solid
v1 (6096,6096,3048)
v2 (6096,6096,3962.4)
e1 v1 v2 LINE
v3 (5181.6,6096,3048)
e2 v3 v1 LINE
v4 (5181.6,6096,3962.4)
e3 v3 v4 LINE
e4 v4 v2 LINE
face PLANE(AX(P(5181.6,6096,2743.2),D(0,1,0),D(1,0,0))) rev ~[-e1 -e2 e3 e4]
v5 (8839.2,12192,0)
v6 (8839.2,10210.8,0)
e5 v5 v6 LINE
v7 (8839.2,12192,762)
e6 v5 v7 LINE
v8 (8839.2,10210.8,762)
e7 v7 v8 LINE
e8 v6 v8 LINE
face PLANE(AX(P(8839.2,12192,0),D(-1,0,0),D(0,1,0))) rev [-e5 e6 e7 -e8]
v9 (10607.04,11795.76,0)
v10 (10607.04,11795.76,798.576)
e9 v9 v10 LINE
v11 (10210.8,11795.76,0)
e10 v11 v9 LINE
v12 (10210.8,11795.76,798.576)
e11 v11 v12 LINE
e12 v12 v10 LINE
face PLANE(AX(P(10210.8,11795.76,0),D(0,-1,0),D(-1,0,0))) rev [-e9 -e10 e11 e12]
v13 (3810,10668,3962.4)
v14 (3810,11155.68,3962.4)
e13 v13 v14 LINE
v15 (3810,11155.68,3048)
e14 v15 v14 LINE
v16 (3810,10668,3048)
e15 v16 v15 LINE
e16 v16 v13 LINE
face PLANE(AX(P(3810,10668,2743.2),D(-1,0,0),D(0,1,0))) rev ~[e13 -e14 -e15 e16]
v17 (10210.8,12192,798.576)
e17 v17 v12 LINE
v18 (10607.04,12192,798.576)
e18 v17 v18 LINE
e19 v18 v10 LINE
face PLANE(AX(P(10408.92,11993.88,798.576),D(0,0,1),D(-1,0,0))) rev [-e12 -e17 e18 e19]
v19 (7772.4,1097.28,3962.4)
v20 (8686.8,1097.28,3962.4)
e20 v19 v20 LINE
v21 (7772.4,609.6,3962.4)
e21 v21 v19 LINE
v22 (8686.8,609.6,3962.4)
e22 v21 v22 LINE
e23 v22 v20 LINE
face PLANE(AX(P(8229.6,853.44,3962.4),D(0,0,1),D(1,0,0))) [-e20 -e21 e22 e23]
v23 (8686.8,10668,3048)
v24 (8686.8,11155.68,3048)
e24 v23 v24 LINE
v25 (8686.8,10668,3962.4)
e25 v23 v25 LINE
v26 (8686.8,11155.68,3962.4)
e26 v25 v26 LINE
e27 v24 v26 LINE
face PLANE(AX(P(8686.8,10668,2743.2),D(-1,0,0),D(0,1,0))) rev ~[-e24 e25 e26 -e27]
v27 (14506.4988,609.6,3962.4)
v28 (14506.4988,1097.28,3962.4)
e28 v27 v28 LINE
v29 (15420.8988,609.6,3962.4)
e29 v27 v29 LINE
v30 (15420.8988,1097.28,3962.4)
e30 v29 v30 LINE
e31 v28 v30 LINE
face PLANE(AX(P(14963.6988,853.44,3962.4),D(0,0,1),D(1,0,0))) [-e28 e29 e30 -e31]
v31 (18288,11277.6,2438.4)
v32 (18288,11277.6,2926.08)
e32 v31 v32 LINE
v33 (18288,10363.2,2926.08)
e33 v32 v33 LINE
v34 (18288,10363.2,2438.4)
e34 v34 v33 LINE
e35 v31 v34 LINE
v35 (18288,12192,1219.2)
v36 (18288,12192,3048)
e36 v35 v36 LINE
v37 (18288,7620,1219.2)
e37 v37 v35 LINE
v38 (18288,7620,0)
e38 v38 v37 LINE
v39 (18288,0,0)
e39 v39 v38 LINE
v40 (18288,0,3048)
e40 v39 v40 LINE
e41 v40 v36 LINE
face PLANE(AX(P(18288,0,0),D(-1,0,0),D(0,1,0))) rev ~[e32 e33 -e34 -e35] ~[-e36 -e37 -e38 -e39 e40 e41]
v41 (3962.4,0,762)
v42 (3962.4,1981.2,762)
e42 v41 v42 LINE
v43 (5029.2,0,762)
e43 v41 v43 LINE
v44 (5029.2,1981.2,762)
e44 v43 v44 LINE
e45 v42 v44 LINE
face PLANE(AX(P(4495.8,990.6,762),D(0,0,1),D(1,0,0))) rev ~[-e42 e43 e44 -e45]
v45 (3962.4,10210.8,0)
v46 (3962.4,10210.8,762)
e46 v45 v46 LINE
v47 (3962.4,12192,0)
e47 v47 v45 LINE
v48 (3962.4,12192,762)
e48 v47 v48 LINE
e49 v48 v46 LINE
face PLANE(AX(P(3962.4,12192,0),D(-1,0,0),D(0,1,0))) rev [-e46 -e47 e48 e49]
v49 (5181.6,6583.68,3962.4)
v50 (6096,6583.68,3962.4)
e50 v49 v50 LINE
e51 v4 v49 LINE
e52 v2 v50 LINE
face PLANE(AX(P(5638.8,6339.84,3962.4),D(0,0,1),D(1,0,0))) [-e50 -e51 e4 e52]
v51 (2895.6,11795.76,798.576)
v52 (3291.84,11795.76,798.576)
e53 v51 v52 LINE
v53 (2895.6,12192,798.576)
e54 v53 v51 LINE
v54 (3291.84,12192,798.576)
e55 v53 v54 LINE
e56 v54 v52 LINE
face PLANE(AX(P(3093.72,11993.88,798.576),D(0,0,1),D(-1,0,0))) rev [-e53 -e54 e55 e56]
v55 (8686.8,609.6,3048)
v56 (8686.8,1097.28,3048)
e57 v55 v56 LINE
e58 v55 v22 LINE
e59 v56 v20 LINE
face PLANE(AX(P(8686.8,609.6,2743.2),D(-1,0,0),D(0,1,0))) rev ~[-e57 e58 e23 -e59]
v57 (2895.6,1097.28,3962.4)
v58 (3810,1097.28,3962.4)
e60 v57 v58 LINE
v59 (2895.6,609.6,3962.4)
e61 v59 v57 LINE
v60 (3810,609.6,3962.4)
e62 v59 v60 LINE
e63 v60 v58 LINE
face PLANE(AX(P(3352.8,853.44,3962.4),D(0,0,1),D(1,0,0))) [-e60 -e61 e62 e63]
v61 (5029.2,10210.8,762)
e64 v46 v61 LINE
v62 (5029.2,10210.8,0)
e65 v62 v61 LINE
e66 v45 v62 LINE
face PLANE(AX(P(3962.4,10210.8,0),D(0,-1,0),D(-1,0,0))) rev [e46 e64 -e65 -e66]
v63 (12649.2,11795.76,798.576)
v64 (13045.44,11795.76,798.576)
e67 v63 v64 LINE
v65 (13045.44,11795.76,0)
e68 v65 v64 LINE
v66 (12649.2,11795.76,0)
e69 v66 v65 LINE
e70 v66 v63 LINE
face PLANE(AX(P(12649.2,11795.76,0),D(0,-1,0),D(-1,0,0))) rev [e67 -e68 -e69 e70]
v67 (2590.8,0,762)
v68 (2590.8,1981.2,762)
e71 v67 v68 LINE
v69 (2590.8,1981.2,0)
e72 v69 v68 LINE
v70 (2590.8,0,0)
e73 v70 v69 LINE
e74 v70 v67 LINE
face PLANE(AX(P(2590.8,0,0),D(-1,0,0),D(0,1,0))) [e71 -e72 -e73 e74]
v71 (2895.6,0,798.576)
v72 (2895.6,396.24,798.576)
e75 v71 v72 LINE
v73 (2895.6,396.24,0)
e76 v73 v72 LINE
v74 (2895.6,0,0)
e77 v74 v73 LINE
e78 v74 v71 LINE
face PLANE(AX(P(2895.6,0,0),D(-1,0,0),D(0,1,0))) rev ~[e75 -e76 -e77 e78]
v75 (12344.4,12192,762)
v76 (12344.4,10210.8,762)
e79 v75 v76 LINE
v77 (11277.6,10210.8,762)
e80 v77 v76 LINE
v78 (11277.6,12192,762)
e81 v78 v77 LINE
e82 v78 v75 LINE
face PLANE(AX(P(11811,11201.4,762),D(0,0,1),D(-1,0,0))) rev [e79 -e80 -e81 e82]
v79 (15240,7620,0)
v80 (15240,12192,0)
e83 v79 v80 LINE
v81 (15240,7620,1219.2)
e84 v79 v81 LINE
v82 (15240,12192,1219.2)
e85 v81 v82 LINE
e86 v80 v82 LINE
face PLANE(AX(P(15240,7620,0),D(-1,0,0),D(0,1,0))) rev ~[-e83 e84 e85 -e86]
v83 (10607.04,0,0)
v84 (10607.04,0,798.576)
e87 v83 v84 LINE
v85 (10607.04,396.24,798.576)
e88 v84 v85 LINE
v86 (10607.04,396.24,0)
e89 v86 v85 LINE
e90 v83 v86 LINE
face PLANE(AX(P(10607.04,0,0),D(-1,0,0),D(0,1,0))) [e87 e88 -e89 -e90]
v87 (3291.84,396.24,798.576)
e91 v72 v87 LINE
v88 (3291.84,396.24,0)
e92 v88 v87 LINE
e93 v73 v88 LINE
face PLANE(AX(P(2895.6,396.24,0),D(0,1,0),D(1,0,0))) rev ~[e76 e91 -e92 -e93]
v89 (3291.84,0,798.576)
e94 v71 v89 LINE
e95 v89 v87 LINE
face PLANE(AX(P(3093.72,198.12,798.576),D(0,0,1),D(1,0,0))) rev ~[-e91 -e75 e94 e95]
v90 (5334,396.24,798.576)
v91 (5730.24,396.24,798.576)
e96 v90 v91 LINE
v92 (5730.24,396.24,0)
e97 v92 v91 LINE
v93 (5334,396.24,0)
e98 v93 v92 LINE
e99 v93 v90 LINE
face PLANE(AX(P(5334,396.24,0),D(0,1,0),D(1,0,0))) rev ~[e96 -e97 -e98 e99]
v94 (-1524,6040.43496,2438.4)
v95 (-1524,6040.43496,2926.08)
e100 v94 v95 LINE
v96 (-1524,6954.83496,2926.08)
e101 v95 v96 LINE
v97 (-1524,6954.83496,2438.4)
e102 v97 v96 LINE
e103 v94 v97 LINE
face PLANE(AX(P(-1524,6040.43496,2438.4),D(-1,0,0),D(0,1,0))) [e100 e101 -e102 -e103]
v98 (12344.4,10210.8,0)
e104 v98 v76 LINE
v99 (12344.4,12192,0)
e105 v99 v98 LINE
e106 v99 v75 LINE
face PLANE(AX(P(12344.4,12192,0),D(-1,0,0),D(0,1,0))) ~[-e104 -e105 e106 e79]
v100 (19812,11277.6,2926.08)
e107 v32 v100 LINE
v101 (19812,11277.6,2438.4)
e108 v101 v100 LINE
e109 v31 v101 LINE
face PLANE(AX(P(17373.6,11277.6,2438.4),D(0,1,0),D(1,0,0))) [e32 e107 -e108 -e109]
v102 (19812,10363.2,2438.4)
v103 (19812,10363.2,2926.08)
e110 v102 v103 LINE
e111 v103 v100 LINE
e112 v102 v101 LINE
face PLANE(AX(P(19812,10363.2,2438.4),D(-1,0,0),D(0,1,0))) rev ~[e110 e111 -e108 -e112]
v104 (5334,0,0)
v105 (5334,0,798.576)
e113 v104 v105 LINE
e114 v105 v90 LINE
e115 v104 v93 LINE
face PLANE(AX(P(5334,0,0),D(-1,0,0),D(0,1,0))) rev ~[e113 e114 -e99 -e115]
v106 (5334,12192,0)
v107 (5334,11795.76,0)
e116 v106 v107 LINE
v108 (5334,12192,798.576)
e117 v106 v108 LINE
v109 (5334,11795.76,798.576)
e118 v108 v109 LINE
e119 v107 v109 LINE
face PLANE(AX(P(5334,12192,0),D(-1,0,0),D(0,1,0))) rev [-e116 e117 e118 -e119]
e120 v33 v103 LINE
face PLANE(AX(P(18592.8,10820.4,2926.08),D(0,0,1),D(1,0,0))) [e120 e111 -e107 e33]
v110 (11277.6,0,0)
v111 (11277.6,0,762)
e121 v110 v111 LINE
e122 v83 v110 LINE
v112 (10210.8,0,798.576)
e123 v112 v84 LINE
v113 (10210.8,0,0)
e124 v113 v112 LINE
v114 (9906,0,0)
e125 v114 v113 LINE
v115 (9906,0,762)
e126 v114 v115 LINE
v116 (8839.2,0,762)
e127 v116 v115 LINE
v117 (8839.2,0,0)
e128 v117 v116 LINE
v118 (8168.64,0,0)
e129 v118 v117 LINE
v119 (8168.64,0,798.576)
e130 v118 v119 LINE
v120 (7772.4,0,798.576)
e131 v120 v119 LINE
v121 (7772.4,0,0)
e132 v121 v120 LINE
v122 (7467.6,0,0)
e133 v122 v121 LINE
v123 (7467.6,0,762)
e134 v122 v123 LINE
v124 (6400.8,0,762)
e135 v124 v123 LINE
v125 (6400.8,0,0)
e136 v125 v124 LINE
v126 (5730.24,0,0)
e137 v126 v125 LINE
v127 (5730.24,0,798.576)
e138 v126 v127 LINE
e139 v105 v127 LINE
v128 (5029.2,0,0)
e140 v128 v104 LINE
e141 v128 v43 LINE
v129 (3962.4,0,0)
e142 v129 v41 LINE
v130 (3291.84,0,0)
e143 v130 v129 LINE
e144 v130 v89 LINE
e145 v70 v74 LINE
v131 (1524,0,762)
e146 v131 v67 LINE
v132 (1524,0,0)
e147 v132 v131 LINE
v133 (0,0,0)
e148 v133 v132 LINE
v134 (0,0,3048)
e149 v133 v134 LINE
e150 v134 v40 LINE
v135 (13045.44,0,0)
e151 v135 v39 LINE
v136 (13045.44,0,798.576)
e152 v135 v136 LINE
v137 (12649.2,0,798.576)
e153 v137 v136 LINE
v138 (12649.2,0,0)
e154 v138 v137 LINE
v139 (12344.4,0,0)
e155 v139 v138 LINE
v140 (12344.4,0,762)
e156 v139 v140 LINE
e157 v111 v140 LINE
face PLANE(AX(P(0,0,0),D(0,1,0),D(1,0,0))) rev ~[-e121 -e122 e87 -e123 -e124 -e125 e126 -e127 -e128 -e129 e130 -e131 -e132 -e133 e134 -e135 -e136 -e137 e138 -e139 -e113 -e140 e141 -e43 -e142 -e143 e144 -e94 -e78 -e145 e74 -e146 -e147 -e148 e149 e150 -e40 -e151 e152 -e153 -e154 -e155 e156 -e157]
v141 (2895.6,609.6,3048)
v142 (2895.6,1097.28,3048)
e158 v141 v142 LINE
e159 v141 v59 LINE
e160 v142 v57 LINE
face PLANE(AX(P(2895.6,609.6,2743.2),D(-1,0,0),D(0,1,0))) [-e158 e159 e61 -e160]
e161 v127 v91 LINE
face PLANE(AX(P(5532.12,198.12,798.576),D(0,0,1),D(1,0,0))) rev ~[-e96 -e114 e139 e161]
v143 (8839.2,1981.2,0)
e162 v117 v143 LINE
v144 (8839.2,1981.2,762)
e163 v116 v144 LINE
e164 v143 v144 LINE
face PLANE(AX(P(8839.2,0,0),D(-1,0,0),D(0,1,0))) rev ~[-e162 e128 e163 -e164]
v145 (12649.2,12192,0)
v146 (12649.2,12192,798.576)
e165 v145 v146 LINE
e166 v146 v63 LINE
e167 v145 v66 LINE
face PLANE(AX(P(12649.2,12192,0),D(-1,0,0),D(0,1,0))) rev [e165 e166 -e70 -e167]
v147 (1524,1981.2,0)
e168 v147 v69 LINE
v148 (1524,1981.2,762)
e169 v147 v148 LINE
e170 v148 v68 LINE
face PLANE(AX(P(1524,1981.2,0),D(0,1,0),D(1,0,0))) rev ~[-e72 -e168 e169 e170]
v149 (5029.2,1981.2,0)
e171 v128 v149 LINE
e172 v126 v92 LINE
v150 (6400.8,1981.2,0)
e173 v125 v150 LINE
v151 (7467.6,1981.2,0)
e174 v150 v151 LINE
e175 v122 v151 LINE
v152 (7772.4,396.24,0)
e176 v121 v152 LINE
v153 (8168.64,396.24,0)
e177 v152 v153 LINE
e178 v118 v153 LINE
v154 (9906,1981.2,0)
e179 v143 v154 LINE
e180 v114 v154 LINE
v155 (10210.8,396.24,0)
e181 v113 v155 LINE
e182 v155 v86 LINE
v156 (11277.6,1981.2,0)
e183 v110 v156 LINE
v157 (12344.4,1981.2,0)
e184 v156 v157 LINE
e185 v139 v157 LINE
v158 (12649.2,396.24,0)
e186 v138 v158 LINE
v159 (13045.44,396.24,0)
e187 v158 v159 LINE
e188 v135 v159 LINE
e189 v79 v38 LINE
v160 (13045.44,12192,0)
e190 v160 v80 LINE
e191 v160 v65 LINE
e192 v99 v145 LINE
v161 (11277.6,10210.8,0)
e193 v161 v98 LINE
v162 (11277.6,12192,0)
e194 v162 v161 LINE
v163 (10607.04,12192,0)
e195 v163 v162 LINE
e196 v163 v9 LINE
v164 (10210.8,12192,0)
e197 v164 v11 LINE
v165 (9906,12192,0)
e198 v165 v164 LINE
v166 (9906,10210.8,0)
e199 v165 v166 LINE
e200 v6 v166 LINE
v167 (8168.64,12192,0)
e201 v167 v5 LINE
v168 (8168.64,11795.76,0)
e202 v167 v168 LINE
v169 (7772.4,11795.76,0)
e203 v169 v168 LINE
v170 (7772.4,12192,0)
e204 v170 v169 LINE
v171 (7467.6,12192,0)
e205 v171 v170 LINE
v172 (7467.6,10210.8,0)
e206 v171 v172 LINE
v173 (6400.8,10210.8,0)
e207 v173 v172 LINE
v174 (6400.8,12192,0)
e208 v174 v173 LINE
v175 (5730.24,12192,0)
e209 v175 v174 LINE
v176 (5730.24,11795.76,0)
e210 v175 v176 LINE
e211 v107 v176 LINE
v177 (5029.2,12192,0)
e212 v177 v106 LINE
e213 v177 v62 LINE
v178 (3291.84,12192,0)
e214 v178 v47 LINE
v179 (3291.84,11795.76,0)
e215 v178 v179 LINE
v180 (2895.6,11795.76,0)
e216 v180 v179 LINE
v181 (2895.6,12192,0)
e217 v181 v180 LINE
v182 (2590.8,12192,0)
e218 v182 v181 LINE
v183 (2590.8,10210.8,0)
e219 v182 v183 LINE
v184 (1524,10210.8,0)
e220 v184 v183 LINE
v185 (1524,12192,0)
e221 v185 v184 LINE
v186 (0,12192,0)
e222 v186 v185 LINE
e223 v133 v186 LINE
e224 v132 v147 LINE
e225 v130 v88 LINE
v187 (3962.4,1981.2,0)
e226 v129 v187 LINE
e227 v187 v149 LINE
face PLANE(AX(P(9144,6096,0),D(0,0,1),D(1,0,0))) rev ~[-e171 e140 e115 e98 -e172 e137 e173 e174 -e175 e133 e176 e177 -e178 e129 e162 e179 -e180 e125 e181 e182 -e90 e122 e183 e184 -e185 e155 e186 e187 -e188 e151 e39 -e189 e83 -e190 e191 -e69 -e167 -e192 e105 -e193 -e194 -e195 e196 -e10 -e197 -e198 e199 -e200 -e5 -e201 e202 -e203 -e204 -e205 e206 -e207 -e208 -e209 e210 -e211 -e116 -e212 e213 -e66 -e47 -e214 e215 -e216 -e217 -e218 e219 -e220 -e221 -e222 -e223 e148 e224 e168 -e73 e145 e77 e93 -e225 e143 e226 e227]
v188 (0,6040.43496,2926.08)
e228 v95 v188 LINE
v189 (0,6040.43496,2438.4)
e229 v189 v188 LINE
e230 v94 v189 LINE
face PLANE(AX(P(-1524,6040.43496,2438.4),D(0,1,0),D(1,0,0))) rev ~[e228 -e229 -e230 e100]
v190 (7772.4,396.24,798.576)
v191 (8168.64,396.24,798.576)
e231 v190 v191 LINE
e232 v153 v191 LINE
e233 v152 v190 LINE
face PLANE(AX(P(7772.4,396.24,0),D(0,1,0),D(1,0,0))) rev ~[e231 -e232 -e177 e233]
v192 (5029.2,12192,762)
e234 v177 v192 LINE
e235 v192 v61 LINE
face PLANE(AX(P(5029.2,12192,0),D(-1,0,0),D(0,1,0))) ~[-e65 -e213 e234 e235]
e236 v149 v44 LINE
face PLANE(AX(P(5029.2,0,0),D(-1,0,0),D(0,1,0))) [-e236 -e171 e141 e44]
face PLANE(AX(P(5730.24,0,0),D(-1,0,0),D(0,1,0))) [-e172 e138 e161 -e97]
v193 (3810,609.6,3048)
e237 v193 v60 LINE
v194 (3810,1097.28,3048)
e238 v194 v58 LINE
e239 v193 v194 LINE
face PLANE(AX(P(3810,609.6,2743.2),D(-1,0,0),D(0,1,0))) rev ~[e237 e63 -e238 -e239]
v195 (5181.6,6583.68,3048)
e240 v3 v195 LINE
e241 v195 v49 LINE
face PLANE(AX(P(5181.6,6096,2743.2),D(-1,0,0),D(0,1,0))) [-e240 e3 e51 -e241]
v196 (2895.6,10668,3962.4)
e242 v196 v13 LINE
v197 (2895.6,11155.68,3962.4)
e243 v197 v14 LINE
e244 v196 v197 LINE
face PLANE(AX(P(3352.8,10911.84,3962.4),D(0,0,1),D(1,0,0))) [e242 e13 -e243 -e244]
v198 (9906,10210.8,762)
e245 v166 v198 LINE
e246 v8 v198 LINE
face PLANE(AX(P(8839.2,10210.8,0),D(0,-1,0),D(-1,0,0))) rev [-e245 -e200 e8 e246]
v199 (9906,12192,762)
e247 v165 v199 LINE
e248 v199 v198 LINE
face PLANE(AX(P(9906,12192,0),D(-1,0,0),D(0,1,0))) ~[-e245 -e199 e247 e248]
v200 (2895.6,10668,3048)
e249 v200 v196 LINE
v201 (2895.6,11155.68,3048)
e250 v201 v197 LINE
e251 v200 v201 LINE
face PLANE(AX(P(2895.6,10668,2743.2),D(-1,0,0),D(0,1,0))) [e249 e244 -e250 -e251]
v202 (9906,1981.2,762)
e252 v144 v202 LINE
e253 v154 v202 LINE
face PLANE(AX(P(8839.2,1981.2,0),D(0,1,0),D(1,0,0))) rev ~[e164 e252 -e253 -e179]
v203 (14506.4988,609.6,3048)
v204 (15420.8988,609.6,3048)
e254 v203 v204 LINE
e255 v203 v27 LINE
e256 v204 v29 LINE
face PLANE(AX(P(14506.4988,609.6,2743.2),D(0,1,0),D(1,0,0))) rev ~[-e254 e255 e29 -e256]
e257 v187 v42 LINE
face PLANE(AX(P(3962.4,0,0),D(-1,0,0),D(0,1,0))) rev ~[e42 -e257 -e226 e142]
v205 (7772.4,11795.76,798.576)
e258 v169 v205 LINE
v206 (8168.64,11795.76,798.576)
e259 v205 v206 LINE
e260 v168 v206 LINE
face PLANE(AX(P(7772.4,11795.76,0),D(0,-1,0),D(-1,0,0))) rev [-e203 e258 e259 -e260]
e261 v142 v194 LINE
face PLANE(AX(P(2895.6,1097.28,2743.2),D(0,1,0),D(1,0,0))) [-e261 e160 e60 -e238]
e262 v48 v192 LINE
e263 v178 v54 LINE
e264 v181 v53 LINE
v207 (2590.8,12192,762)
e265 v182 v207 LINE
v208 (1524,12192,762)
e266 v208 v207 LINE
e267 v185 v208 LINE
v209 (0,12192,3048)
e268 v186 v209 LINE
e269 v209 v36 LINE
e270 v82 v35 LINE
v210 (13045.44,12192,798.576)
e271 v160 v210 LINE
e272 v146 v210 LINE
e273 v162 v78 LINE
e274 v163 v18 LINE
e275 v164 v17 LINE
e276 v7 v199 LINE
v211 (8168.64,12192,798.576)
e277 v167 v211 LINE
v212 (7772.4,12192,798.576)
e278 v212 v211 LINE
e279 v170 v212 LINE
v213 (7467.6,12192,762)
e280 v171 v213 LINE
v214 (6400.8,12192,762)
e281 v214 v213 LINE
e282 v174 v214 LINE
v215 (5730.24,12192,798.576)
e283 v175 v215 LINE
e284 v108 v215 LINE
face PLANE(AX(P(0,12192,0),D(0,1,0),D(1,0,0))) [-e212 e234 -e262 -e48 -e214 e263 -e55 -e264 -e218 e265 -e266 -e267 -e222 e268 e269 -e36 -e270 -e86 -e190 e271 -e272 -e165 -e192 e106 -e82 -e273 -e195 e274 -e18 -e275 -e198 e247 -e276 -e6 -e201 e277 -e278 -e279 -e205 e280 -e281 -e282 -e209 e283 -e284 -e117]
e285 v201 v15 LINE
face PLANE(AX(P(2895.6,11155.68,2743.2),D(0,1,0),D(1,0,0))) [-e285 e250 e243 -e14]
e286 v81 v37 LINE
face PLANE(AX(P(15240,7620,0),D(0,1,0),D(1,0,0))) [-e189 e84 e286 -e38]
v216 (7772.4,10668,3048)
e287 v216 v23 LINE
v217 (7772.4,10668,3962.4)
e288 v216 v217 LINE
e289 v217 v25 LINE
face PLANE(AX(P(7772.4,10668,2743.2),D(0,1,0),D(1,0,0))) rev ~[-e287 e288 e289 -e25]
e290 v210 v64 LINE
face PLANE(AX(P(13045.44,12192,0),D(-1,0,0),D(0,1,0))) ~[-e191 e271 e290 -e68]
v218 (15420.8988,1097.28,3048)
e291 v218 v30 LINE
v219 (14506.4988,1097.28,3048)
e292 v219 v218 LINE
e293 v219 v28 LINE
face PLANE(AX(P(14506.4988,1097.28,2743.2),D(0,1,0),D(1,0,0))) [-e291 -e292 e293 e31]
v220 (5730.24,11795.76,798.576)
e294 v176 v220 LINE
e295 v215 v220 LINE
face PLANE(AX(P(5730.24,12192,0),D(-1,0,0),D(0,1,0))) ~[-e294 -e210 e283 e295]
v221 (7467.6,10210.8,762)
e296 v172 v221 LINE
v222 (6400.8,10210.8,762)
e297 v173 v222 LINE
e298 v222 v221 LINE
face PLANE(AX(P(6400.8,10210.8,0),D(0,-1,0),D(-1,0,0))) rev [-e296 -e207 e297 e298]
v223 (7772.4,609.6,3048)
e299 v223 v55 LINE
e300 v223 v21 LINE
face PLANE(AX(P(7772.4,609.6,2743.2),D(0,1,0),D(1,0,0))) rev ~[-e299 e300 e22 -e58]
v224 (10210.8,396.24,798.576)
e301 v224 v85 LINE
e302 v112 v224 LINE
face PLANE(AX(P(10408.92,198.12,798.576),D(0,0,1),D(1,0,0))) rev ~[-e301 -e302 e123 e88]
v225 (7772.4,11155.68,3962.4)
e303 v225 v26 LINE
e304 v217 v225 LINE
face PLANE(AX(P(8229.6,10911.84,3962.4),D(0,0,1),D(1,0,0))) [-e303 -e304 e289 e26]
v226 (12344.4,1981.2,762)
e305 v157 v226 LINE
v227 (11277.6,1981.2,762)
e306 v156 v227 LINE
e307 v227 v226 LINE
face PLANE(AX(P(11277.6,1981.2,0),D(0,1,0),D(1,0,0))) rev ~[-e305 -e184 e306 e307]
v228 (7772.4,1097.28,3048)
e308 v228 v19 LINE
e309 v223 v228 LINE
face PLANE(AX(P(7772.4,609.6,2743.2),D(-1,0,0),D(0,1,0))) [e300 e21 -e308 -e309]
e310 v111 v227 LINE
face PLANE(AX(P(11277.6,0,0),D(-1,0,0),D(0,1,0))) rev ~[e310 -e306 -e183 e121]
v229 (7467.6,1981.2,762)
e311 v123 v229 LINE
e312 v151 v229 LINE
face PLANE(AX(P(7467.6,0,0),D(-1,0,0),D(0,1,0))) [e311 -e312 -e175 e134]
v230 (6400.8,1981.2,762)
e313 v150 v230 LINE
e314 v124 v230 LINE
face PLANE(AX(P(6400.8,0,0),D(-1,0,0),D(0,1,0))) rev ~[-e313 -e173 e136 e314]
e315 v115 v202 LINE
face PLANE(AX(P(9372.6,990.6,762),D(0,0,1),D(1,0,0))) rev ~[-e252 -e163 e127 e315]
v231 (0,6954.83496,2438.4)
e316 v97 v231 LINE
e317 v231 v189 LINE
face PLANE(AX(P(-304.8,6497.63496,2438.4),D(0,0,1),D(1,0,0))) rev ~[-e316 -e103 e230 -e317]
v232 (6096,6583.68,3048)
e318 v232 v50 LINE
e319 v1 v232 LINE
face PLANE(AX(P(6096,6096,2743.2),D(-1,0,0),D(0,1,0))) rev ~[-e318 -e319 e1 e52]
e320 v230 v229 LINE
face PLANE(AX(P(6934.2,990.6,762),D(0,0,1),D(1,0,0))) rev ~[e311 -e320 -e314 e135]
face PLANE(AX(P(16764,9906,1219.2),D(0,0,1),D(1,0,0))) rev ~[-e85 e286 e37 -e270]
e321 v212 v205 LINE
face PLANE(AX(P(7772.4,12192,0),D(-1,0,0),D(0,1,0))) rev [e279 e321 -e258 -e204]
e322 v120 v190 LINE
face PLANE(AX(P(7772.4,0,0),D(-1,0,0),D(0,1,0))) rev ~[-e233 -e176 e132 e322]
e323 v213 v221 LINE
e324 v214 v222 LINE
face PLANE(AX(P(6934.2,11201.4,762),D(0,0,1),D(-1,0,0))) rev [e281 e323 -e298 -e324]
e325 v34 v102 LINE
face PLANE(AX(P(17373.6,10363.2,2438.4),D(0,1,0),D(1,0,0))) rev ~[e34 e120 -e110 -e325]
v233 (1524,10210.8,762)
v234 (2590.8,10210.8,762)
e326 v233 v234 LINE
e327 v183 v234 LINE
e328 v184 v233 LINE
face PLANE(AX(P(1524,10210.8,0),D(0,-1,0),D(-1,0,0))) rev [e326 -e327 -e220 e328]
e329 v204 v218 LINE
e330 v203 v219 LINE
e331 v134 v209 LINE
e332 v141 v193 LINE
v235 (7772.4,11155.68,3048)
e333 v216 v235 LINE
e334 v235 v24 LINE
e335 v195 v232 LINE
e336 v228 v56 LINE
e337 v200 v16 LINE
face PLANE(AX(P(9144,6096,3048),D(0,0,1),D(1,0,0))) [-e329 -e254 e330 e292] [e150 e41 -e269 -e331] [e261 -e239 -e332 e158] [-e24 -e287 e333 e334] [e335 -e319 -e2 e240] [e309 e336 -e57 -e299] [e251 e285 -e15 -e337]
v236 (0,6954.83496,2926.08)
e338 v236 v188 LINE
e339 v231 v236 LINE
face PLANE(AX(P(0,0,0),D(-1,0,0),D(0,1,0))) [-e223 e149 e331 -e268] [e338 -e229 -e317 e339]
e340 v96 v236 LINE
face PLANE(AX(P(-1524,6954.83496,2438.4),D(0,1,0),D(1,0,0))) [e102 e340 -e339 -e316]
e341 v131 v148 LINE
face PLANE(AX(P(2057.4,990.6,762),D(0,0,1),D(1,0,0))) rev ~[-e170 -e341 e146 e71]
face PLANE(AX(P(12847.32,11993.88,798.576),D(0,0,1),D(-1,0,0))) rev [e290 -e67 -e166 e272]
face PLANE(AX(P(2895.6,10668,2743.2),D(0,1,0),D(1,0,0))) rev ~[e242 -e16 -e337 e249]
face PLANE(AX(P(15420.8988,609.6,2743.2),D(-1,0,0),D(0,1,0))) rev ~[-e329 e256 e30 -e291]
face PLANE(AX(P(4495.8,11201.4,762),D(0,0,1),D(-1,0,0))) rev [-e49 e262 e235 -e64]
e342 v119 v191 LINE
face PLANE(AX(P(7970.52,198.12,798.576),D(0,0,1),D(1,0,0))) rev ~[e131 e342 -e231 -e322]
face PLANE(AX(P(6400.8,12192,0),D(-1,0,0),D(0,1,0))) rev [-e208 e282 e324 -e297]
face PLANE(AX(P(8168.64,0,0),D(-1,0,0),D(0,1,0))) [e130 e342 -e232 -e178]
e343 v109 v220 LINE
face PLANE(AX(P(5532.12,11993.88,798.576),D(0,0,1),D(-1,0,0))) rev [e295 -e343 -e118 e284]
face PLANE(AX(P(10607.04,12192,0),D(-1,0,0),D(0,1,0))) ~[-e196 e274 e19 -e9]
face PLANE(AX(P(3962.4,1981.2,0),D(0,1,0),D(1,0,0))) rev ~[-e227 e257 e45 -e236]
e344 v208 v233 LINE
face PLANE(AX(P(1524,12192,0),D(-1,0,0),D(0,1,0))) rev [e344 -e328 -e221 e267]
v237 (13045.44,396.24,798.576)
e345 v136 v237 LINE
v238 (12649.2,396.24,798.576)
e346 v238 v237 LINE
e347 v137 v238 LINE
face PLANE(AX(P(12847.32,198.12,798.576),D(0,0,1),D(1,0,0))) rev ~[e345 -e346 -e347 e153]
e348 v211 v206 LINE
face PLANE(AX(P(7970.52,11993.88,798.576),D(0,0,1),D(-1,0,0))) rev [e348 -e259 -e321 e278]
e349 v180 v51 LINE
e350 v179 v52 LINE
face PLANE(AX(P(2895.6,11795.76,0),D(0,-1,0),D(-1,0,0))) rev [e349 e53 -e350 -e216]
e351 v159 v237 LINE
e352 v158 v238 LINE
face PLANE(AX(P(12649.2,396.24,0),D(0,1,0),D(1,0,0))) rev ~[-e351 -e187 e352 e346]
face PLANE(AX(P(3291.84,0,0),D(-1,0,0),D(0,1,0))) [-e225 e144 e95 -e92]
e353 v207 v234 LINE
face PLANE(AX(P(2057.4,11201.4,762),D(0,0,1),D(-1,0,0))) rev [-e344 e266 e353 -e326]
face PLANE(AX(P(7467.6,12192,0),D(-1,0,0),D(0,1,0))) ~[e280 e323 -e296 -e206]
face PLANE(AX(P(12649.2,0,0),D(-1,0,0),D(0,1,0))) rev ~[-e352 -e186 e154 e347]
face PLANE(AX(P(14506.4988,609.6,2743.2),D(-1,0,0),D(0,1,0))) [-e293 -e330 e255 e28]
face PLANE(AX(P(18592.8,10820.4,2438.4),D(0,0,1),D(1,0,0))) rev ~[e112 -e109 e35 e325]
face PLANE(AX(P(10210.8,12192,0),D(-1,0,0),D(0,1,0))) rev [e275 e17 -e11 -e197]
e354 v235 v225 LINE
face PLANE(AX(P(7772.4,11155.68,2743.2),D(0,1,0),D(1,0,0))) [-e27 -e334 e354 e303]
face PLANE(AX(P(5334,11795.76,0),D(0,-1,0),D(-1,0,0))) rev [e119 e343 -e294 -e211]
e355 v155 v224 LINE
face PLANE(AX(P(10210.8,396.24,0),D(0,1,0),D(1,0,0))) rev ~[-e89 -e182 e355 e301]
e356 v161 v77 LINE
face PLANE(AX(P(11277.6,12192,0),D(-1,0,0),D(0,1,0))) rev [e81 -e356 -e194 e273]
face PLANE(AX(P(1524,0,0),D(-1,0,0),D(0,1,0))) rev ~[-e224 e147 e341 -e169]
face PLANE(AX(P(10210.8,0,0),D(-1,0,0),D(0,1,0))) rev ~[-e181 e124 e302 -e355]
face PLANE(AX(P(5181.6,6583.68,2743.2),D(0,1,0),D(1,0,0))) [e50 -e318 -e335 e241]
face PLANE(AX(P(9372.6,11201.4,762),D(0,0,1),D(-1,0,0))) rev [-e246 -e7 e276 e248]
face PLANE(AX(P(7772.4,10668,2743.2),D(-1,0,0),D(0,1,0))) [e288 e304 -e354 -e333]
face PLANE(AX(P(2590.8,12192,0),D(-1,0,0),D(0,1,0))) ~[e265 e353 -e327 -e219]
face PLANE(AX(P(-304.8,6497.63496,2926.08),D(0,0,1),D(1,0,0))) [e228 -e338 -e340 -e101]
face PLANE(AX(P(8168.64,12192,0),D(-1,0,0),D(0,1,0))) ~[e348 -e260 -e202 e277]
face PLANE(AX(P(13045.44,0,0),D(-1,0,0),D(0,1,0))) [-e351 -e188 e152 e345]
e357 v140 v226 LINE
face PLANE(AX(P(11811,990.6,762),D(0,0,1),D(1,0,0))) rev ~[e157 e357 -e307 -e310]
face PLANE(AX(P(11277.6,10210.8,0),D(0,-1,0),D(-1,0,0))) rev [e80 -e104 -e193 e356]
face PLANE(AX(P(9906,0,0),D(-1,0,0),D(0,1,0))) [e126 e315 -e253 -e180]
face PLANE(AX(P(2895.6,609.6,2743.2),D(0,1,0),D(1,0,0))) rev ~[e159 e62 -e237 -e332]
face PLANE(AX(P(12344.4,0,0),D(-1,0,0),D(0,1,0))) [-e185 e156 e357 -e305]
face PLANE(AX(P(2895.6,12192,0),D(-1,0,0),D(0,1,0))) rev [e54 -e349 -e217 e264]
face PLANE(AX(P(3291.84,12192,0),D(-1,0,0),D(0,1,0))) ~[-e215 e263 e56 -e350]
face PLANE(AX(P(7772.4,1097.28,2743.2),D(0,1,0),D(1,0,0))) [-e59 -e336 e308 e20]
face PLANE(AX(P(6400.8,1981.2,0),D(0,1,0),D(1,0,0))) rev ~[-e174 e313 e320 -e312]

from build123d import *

# Parameters (mm, degrees)
BOX011_W     = 3048
BOX011_H     = 4572
BOX011_DEPTH = 1219.2
BOX006_W     = 1066.8
BOX006_H     = 1981.2
BOX006_DEPTH = 762
BOX005_W     = 396.24
BOX005_H     = 396.24
BOX005_DEPTH = 798.576
BOX007_W     = 1066.8
BOX007_H     = 1981.2
BOX007_DEPTH = 762
BOX008_W     = 396.24
BOX008_H     = 396.24
BOX008_DEPTH = 798.576
BOX010_W     = 1066.8
BOX010_H     = 1981.2
BOX010_DEPTH = 762
BOX009_W     = 396.24
BOX009_H     = 396.24
BOX009_DEPTH = 798.576
BOX001_W     = 1066.8
BOX001_H     = 1981.2
BOX001_DEPTH = 762
BOX002_W     = 396.24
BOX002_H     = 396.24
BOX002_DEPTH = 798.576
BOX003_W     = 1066.8
BOX003_H     = 1981.2
BOX003_DEPTH = 762
BOX004_W     = 396.24
BOX004_H     = 396.24
BOX004_DEPTH = 798.576
BOX_W        = 18288
BOX_H        = 12192
BOX_DEPTH    = 3048
BOX017_W     = 914.4
BOX017_H     = 487.68
BOX017_DEPTH = 1219.2
BOX018_W     = 914.4
BOX018_H     = 487.68
BOX018_DEPTH = 1219.2
BOX019_W     = 914.4
BOX019_H     = 487.68
BOX019_DEPTH = 1219.2
BOX021_W     = 914.4
BOX021_H     = 487.68
BOX021_DEPTH = 1219.2
BOX022_W     = 914.4
BOX022_H     = 487.68
BOX022_DEPTH = 1219.2
BOX016_W     = 914.4
BOX016_H     = 487.68
BOX016_DEPTH = 1219.2
BOX020_W     = 2438.4
BOX020_H     = 914.4
BOX020_DEPTH = 487.68
BOX013_W     = 2438.4
BOX013_H     = 914.4
BOX013_DEPTH = 487.68


with BuildPart() as nurse_station:
    # Box011 → Box011 (new body)
    with BuildSketch(Plane(origin=(15240, 7620, 0), x_dir=(1, 0, 0), z_dir=(0, 0, 1))):
        with Locations((1524, 2286)):
            Rectangle(BOX011_W, BOX011_H)
    extrude(amount=BOX011_DEPTH)


with BuildPart() as box006:
    # Box006 → Box006 (new body)
    with BuildSketch(Plane.XY):
        with Locations((533.4, 990.6)):
            Rectangle(BOX006_W, BOX006_H)
    extrude(amount=BOX006_DEPTH)


with BuildPart() as fusion002:
    # Box005 → Box005 (new body)
    with BuildSketch(Plane(origin=(1371.6, 0, 0), x_dir=(1, 0, 0), z_dir=(0, 0, 1))):
        with Locations((198.12, 198.12)):
            Rectangle(BOX005_W, BOX005_H)
    extrude(amount=BOX005_DEPTH)

    # Fusion002: union Box006
    add(box006.part)


with BuildPart() as fusion002_1:
    # Fusion002 placement: moved
    add(fusion002.part.moved(Location((4876.8, 0, 0))))


with BuildPart() as box007:
    # Box007 → Box007 (new body)
    with BuildSketch(Plane.XY):
        with Locations((533.4, 990.6)):
            Rectangle(BOX007_W, BOX007_H)
    extrude(amount=BOX007_DEPTH)


with BuildPart() as fusion003:
    # Box008 → Box008 (new body)
    with BuildSketch(Plane(origin=(1371.6, 0, 0), x_dir=(1, 0, 0), z_dir=(0, 0, 1))):
        with Locations((198.12, 198.12)):
            Rectangle(BOX008_W, BOX008_H)
    extrude(amount=BOX008_DEPTH)

    # Fusion003: union Box007
    add(box007.part)


with BuildPart() as fusion003_1:
    # Fusion003 placement: moved
    add(fusion003.part.moved(Location((7315.2, 0, 0))))


with BuildPart() as box010:
    # Box010 → Box010 (new body)
    with BuildSketch(Plane.XY):
        with Locations((533.4, 990.6)):
            Rectangle(BOX010_W, BOX010_H)
    extrude(amount=BOX010_DEPTH)


with BuildPart() as fusion004:
    # Box009 → Box009 (new body)
    with BuildSketch(Plane(origin=(1371.6, 0, 0), x_dir=(1, 0, 0), z_dir=(0, 0, 1))):
        with Locations((198.12, 198.12)):
            Rectangle(BOX009_W, BOX009_H)
    extrude(amount=BOX009_DEPTH)

    # Fusion004: union Box010
    add(box010.part)


with BuildPart() as fusion004_1:
    # Fusion004 placement: moved
    add(fusion004.part.moved(Location((9753.6, 0, 0))))


with BuildPart() as box001:
    # Box001 → Box001 (new body)
    with BuildSketch(Plane.XY):
        with Locations((533.4, 990.6)):
            Rectangle(BOX001_W, BOX001_H)
    extrude(amount=BOX001_DEPTH)


with BuildPart() as fusion:
    # Box002 → Box002 (new body)
    with BuildSketch(Plane(origin=(1371.6, 0, 0), x_dir=(1, 0, 0), z_dir=(0, 0, 1))):
        with Locations((198.12, 198.12)):
            Rectangle(BOX002_W, BOX002_H)
    extrude(amount=BOX002_DEPTH)

    # Fusion: union Box001
    add(box001.part)


with BuildPart() as box003:
    # Box003 → Box003 (new body)
    with BuildSketch(Plane.XY):
        with Locations((533.4, 990.6)):
            Rectangle(BOX003_W, BOX003_H)
    extrude(amount=BOX003_DEPTH)


with BuildPart() as right_beds:
    # Box004 → Box004 (new body)
    with BuildSketch(Plane(origin=(1371.6, 0, 0), x_dir=(1, 0, 0), z_dir=(0, 0, 1))):
        with Locations((198.12, 198.12)):
            Rectangle(BOX004_W, BOX004_H)
    extrude(amount=BOX004_DEPTH)

    # Fusion001: union Box003
    add(box003.part)


with BuildPart() as right_beds_1:
    # Fusion001 placement: moved
    add(right_beds.part.moved(Location((2438.4, 0, 0))))

    # Fusion005: union Fusion002, Fusion003, Fusion004, Fusion
    add(fusion002_1.part)
    add(fusion003_1.part)
    add(fusion004_1.part)
    add(fusion.part)


with BuildPart() as surfaces:
    # Part__Mirroring: instance of right beds
    add(right_beds_1.part.mirror(Plane(origin=(0, 6096, 0), x_dir=(1, 0, 0), z_dir=(0, 1, 0))))

    # Fusion006: union right beds
    add(right_beds_1.part)


with BuildPart() as surfaces_1:
    # Fusion006 placement: moved
    add(surfaces.part.moved(Location((1524, 0, 0))))

    # Fusion010: union Nurse Station
    add(nurse_station.part)


with BuildPart() as room:
    # Box → Box (new body)
    with BuildSketch(Plane.XY):
        with Locations((9144, 6096)):
            Rectangle(BOX_W, BOX_H)
    extrude(amount=BOX_DEPTH)


with BuildPart() as branch003:
    # Box017 → Box017 (new body)
    with BuildSketch(Plane(origin=(7772.4, 10668, 2743.2), x_dir=(1, 0, 0), z_dir=(0, 0, 1))):
        with Locations((457.2, 243.84)):
            Rectangle(BOX017_W, BOX017_H)
    extrude(amount=BOX017_DEPTH)


with BuildPart() as branch004:
    # Box018 → Box018 (new body)
    with BuildSketch(Plane(origin=(2895.6, 609.6, 2743.2), x_dir=(1, 0, 0), z_dir=(0, 0, 1))):
        with Locations((457.2, 243.84)):
            Rectangle(BOX018_W, BOX018_H)
    extrude(amount=BOX018_DEPTH)


with BuildPart() as branch005:
    # Box019 → Box019 (new body)
    with BuildSketch(Plane(origin=(2895.6, 10668, 2743.2), x_dir=(1, 0, 0), z_dir=(0, 0, 1))):
        with Locations((457.2, 243.84)):
            Rectangle(BOX019_W, BOX019_H)
    extrude(amount=BOX019_DEPTH)


with BuildPart() as branch006:
    # Box021 → Box021 (new body)
    with BuildSketch(Plane(origin=(5181.6, 6096, 2743.2), x_dir=(1, 0, 0), z_dir=(0, 0, 1))):
        with Locations((457.2, 243.84)):
            Rectangle(BOX021_W, BOX021_H)
    extrude(amount=BOX021_DEPTH)


with BuildPart() as branch007:
    # Box022 → Box022 (new body)
    with BuildSketch(Plane(origin=(14506.4988, 609.6, 2743.2), x_dir=(1, 0, 0), z_dir=(0, 0, 1))):
        with Locations((457.2, 243.84)):
            Rectangle(BOX022_W, BOX022_H)
    extrude(amount=BOX022_DEPTH)


with BuildPart() as fusion011:
    # Box016 → Box016 (new body)
    with BuildSketch(Plane(origin=(7772.4, 609.6, 2743.2), x_dir=(1, 0, 0), z_dir=(0, 0, 1))):
        with Locations((457.2, 243.84)):
            Rectangle(BOX016_W, BOX016_H)
    extrude(amount=BOX016_DEPTH)

    # Fusion011: union branch003, branch004, branch005, branch006, branch007
    add(branch003.part)
    add(branch004.part)
    add(branch005.part)
    add(branch006.part)
    add(branch007.part)


with BuildPart() as main_inlet001:
    # Box020 → Box020 (new body)
    with BuildSketch(Plane(origin=(17373.6, 10363.2, 2438.4), x_dir=(1, 0, 0), z_dir=(0, 0, 1))):
        with Locations((1219.2, 457.2)):
            Rectangle(BOX020_W, BOX020_H)
    extrude(amount=BOX020_DEPTH)


with BuildPart() as cut:
    # Box013 → Box013 (new body)
    with BuildSketch(Plane(origin=(-1524, 6040.43496, 2438.4), x_dir=(1, 0, 0), z_dir=(0, 0, 1))):
        with Locations((1219.2, 457.2)):
            Rectangle(BOX013_W, BOX013_H)
    extrude(amount=BOX013_DEPTH)

    # Fusion012: union main inlet001
    add(main_inlet001.part)

    # Fusion013: union Fusion011
    add(fusion011.part)

    # Fusion014: union Room
    add(room.part)

    # Cut: cut surfaces
    add(surfaces_1.part, mode=Mode.SUBTRACT)


solid = cut.part
